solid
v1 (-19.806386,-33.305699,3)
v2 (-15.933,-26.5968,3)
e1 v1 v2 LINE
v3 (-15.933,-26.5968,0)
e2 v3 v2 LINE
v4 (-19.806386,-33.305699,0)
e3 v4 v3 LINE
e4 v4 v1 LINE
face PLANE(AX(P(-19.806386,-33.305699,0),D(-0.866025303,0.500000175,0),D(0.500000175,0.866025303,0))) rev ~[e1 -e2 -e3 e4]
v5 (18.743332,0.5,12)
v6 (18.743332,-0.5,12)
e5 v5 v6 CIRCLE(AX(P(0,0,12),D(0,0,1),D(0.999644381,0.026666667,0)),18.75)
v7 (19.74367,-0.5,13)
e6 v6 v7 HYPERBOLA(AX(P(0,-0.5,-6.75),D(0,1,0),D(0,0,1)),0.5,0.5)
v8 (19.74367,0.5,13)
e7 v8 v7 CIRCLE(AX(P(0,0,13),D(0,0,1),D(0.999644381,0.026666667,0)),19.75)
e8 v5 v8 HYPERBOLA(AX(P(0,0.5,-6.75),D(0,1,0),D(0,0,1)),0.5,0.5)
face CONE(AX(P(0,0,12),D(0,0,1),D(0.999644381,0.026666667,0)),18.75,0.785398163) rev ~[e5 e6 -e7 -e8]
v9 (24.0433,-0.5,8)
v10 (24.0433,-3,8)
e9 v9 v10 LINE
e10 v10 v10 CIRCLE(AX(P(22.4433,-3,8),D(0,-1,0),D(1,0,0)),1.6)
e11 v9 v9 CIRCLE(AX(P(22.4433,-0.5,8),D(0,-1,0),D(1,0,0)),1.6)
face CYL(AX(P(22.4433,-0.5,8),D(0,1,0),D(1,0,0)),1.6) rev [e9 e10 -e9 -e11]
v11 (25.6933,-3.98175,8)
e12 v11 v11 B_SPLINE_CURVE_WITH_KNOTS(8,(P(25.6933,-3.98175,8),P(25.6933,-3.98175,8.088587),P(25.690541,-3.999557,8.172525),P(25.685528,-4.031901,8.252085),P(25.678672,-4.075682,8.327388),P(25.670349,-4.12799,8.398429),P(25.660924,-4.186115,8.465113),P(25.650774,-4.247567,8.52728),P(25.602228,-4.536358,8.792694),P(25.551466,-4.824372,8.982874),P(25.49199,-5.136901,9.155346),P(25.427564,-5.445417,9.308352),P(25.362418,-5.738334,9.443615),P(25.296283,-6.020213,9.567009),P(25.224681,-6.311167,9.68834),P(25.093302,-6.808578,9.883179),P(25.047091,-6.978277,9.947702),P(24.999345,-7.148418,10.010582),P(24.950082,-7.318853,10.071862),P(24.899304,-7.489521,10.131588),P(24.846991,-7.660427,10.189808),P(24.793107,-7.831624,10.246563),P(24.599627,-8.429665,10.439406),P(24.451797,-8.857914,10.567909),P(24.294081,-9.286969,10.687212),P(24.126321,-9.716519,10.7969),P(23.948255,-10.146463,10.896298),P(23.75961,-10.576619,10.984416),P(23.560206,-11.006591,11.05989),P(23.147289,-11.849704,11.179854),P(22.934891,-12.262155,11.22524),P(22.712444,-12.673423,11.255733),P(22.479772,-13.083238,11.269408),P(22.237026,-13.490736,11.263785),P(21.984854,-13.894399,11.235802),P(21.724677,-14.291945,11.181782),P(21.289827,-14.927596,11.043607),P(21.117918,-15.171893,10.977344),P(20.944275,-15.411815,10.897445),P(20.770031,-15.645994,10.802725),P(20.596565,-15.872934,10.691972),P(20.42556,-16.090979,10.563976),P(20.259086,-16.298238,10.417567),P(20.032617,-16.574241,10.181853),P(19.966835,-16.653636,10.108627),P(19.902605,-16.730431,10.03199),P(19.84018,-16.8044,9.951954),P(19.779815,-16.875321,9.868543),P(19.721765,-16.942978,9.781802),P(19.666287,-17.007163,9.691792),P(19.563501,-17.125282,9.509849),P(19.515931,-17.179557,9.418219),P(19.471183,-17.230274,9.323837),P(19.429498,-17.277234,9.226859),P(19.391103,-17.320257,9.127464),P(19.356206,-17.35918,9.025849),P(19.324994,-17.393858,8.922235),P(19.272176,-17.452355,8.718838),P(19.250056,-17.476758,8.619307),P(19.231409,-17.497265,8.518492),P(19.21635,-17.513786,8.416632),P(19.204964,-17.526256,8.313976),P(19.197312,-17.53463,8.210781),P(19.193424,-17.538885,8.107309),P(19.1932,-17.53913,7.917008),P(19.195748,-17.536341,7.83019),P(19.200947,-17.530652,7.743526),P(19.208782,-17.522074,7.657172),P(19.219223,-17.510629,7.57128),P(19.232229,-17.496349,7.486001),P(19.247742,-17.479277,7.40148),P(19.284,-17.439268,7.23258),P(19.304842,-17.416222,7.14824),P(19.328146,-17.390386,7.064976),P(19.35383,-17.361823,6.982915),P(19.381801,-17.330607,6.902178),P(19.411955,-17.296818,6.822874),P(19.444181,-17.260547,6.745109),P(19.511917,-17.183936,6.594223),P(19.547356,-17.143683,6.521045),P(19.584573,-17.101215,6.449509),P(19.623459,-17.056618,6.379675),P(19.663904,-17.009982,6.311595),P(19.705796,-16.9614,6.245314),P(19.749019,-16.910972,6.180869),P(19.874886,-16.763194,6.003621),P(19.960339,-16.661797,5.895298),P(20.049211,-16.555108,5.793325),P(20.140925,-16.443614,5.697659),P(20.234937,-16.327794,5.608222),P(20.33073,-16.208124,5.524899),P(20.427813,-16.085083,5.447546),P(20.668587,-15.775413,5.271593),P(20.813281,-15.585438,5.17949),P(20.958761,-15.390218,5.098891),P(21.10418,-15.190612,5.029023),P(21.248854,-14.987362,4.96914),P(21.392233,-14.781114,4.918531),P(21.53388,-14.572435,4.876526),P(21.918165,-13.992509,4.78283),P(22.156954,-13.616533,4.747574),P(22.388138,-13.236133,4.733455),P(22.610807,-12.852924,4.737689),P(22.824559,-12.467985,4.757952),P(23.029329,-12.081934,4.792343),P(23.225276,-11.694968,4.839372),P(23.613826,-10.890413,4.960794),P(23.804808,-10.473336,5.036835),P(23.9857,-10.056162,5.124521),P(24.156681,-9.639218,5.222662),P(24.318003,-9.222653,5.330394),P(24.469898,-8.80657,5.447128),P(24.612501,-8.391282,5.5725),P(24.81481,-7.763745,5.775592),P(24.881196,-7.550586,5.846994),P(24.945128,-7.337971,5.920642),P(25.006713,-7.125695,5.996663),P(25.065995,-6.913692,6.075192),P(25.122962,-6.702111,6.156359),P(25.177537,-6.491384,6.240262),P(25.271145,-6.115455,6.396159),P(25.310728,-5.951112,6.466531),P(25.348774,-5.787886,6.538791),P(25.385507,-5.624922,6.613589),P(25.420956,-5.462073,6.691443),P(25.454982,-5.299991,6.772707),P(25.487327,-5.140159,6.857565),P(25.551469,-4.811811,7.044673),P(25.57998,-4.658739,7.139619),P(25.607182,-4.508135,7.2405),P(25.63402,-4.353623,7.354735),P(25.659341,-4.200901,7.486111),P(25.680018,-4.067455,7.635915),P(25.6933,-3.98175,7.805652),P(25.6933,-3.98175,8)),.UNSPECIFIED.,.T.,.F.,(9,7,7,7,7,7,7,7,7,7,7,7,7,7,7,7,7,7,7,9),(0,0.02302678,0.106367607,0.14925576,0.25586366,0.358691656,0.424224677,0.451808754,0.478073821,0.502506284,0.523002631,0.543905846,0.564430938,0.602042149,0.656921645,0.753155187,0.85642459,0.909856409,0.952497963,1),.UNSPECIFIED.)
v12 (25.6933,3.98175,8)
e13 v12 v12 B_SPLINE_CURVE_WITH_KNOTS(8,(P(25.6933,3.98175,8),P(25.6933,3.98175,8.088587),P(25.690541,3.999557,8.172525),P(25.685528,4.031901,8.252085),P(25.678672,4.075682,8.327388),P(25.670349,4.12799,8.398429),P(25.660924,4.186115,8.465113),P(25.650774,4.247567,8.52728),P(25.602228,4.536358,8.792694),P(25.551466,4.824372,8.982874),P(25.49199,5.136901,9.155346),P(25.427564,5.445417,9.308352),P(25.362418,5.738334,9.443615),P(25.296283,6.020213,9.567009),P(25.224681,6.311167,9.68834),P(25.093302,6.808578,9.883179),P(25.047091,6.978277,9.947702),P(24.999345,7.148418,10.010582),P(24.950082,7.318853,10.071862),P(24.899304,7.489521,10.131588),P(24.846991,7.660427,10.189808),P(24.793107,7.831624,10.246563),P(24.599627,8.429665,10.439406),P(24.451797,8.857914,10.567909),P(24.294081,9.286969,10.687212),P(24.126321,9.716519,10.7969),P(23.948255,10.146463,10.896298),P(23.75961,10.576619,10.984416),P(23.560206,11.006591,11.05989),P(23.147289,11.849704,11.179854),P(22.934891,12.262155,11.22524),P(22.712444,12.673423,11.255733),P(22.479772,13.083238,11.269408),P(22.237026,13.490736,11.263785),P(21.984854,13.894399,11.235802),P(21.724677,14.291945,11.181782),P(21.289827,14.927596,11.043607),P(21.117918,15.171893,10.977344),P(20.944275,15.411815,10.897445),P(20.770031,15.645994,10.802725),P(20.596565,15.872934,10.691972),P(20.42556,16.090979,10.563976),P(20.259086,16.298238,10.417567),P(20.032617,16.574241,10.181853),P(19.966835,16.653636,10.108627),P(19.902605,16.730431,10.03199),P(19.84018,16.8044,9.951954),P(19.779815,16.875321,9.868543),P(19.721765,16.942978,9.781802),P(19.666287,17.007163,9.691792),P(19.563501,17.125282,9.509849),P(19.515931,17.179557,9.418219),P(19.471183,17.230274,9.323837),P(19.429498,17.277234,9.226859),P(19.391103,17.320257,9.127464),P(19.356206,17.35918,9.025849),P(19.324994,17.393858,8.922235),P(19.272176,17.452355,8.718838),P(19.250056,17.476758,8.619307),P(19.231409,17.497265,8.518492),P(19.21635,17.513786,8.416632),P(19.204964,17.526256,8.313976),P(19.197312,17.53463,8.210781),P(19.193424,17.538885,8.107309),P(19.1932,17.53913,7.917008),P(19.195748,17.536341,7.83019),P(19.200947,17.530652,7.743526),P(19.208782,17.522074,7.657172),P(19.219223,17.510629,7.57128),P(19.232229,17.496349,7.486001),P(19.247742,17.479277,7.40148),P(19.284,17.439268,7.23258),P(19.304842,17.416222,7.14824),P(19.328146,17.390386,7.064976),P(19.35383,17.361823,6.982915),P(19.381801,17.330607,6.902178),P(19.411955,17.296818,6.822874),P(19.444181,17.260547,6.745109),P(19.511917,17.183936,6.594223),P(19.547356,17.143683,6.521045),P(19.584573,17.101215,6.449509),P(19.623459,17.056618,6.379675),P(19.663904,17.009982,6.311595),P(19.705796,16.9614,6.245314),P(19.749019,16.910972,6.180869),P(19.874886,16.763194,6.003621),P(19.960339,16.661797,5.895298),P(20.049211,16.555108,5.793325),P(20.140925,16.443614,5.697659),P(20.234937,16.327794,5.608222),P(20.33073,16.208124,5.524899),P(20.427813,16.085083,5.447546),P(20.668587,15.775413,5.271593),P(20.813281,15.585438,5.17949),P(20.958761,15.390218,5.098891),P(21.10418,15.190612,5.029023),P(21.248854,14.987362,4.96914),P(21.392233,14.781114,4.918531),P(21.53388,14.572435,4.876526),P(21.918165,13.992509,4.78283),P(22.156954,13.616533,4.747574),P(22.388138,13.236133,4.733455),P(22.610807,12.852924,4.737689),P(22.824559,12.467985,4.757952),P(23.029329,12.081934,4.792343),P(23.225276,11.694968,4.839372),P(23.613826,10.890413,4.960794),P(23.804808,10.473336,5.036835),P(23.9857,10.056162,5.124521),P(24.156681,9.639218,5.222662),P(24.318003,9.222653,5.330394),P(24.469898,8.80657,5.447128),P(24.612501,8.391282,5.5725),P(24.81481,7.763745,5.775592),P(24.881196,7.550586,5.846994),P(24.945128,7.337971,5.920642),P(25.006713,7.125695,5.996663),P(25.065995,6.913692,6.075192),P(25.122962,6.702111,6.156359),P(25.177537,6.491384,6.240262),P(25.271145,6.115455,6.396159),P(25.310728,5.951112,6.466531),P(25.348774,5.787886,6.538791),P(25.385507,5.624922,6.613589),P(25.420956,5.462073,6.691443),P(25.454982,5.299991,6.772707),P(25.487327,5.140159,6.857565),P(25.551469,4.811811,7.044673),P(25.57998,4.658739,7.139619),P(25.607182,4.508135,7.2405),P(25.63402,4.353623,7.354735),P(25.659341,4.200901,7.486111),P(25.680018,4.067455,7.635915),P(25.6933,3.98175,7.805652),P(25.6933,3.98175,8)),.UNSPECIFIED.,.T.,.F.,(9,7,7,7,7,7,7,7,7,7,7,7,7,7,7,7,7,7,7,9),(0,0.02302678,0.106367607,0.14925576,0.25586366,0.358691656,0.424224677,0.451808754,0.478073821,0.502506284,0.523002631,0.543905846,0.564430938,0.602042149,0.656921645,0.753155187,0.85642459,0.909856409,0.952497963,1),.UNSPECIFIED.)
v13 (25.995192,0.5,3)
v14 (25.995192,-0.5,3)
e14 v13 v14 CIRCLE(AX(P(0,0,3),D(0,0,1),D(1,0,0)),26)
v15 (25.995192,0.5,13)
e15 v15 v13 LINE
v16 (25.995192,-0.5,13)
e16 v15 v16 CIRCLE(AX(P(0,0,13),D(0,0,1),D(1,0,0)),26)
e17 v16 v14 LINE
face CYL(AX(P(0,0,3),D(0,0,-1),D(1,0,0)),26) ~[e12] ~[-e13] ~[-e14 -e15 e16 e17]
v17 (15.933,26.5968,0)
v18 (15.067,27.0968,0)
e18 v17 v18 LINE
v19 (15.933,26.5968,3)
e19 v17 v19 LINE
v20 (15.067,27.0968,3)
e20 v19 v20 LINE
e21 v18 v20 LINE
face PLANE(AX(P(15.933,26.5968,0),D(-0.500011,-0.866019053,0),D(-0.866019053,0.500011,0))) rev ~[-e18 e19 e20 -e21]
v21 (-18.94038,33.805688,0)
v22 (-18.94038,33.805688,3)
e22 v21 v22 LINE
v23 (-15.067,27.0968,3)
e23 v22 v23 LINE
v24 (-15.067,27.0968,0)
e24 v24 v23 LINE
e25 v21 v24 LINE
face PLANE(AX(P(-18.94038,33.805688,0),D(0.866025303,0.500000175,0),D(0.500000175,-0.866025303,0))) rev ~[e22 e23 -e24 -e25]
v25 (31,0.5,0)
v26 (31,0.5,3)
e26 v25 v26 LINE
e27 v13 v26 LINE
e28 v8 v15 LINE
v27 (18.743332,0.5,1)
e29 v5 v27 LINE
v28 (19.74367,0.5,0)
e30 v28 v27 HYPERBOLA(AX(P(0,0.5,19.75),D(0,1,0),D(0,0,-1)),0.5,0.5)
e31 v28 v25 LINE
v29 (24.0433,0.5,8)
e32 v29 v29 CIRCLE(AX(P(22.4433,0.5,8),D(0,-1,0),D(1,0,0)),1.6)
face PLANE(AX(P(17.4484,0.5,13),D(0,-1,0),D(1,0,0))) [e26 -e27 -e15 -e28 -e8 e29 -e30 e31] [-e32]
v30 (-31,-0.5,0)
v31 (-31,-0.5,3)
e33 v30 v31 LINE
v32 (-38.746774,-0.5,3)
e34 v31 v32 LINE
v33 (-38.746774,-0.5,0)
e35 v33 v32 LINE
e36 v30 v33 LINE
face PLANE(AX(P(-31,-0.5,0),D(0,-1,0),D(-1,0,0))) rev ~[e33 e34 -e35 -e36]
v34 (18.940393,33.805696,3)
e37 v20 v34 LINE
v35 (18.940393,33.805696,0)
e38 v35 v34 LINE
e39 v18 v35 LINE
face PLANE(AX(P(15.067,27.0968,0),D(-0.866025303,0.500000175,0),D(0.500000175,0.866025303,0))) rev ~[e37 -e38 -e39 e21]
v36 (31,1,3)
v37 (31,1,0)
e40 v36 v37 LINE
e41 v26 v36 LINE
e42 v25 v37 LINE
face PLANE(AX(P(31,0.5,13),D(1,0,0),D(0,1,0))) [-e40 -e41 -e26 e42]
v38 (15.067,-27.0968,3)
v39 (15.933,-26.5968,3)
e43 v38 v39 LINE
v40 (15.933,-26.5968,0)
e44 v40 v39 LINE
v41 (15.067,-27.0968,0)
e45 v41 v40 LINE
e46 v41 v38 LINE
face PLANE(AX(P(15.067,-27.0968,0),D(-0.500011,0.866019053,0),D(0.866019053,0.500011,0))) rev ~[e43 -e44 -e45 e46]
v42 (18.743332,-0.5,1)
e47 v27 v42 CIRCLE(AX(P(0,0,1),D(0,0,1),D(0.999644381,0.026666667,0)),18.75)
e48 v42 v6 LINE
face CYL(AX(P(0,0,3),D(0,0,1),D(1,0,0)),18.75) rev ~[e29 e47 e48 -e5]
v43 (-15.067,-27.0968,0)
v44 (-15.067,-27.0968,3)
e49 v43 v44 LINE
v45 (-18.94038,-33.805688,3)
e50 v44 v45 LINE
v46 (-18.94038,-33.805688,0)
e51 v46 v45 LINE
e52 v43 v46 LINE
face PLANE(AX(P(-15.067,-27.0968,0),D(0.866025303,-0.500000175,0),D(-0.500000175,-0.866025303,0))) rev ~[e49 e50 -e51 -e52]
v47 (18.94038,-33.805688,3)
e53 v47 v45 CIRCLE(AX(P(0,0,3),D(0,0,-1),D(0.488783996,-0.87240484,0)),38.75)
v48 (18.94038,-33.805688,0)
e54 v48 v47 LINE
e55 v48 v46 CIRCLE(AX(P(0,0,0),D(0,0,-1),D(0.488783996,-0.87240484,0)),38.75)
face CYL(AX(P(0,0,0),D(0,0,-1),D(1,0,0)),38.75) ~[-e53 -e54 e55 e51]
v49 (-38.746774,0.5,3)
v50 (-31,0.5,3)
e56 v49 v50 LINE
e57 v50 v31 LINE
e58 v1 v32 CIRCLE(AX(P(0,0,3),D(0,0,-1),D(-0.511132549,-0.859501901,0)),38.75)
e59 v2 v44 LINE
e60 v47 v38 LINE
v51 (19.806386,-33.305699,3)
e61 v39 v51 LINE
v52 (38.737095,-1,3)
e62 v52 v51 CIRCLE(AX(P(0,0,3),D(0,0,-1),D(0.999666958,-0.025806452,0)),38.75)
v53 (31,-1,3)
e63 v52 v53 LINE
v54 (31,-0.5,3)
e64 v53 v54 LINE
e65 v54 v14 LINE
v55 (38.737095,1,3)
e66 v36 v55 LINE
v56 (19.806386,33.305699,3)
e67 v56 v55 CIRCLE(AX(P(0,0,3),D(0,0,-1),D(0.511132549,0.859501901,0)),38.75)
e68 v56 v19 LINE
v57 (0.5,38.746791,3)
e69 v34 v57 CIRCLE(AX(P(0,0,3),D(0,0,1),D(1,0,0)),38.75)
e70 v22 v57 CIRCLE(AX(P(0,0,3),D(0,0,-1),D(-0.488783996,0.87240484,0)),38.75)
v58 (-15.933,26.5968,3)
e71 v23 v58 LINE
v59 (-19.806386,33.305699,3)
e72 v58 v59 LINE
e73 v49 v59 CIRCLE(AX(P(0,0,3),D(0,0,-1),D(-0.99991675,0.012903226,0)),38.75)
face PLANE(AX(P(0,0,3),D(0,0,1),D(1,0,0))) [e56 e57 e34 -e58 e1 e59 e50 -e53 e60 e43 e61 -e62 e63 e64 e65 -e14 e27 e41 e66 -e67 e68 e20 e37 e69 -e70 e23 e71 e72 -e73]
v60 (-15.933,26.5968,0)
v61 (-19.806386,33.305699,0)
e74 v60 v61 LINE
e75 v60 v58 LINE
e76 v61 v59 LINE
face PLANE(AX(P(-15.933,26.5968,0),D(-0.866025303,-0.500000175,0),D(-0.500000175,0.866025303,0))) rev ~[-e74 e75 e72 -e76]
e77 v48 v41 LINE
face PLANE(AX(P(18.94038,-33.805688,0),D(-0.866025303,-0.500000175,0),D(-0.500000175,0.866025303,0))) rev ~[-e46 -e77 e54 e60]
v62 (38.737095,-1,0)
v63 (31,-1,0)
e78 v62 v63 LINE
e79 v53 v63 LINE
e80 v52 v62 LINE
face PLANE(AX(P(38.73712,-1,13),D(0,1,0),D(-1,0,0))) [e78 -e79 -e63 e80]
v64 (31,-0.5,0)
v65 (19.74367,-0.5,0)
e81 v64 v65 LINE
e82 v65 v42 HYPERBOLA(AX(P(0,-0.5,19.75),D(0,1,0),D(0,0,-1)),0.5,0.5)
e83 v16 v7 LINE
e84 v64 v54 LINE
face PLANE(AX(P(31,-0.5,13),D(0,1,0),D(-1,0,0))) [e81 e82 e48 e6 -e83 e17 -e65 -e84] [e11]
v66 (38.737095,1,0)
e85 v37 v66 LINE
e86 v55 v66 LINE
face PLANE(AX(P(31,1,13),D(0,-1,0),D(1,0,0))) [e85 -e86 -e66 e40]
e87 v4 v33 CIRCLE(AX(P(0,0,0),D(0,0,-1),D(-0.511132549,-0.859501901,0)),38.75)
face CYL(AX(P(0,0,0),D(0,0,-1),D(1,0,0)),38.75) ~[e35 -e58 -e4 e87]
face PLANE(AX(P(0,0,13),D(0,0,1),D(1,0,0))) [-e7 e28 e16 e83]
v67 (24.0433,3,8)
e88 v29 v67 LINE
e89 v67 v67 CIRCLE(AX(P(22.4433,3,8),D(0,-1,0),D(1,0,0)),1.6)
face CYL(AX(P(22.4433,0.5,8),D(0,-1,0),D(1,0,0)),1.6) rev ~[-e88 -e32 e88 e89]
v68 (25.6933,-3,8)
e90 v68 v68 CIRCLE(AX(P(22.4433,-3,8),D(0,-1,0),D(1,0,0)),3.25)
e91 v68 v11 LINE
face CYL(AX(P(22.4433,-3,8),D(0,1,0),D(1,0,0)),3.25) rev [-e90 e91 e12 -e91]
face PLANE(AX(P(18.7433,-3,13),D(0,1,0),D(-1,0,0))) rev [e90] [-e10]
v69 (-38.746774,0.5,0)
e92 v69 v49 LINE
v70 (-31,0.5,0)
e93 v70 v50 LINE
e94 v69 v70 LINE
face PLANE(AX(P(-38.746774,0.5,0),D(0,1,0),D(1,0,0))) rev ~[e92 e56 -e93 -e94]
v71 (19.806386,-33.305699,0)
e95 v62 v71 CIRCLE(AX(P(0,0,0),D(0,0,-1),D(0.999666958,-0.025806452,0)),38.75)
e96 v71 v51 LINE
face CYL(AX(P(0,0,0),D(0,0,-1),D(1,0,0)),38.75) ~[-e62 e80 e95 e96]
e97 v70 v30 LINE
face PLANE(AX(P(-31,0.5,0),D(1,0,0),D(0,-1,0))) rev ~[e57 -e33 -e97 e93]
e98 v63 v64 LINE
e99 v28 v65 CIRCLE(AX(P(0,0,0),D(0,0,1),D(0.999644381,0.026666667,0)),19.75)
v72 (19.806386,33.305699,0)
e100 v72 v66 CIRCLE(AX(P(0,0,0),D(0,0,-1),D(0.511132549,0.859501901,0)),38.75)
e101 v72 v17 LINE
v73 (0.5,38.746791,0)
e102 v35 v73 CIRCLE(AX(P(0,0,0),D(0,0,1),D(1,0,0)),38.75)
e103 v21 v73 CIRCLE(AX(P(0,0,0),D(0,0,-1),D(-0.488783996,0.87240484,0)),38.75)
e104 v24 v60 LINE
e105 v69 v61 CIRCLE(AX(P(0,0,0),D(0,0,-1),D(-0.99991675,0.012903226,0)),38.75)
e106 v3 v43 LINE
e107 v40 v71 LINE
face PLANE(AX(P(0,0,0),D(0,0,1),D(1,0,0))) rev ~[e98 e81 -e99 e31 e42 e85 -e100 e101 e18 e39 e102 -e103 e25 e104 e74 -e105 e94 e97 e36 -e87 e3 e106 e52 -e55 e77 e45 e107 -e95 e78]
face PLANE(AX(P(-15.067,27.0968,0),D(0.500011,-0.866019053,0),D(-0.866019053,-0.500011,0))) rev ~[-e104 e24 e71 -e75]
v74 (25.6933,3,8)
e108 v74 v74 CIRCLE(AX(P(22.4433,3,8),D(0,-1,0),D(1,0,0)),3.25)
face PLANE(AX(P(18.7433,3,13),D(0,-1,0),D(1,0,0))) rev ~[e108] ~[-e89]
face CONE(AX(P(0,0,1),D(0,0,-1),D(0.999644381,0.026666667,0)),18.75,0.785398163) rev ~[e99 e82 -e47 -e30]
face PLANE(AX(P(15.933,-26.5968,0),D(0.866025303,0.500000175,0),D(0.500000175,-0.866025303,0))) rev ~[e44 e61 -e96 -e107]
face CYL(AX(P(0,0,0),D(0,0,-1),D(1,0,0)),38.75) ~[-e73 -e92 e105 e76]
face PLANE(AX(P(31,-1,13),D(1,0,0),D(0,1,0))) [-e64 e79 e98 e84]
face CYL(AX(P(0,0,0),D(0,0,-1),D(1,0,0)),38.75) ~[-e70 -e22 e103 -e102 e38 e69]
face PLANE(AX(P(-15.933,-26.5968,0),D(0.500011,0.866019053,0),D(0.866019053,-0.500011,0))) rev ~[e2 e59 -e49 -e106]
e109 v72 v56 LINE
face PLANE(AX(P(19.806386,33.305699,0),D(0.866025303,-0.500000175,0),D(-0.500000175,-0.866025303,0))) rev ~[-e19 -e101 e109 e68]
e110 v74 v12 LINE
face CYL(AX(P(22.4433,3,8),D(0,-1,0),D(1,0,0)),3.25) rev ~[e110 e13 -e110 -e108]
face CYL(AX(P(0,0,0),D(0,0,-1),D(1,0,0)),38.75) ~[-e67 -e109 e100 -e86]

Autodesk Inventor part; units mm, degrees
ref_plane "YZ Plane" through (0, 0, 0) normal (1, 0, 0) x (0, 1, 0)
ref_plane "XZ Plane" through (0, 0, 0) normal (0, 1, 0) x (-1, 0, 0)
sketch "Sketch1" plane through (0, 0, 0) normal (0, 0, 1) x (1, 0, 0)
  circle A0 centre (0, 0) radius 38.75
  line L0 (-0.5, 39) -> (0.5, 39)
  line L1 (0.5, 39) -> (0.5, 31)
  line L2 (0.5, 31) -> (-0.5, 31)
  line L3 (-0.5, 31) -> (-0.5, 39)
  line L4 (-15.933, 26.5968) -> (-19.933, 33.525)
  line L5 (-19.067, 34.025) -> (-15.067, 27.0968)
  line L6 (-15.067, 27.0968) -> (-15.933, 26.5968)
  line L7 (-19.933, 33.525) -> (-19.067, 34.025)
  line L8 (-27.0968, 15.067) -> (-34.025, 19.067)
  line L9 (-33.525, 19.933) -> (-26.5968, 15.933)
  line L10 (-26.5968, 15.933) -> (-27.0968, 15.067)
  line L11 (-34.025, 19.067) -> (-33.525, 19.933)
  line L12 (-31, -0.5) -> (-39, -0.5)
  line L13 (-39, 0.5) -> (-31, 0.5)
  line L14 (-31, 0.5) -> (-31, -0.5)
  line L15 (-39, -0.5) -> (-39, 0.5)
  line L16 (-26.5968, -15.933) -> (-33.525, -19.933)
  line L17 (-34.025, -19.067) -> (-27.0968, -15.067)
  line L18 (-27.0968, -15.067) -> (-26.5968, -15.933)
  line L19 (-33.525, -19.933) -> (-34.025, -19.067)
  line L20 (-15.067, -27.0968) -> (-19.067, -34.025)
  line L21 (-19.933, -33.525) -> (-15.933, -26.5968)
  line L22 (-15.933, -26.5968) -> (-15.067, -27.0968)
  line L23 (-19.067, -34.025) -> (-19.933, -33.525)
  line L24 (0.5, -31) -> (0.5, -39)
  line L25 (-0.5, -39) -> (-0.5, -31)
  line L26 (-0.5, -31) -> (0.5, -31)
  line L27 (0.5, -39) -> (-0.5, -39)
  line L28 (15.933, -26.5968) -> (19.933, -33.525)
  line L29 (19.067, -34.025) -> (15.067, -27.0968)
  line L30 (15.067, -27.0968) -> (15.933, -26.5968)
  line L31 (19.933, -33.525) -> (19.067, -34.025)
  line L32 (27.0968, -15.067) -> (34.025, -19.067)
  line L33 (33.525, -19.933) -> (26.5968, -15.933)
  line L34 (26.5968, -15.933) -> (27.0968, -15.067)
  line L35 (34.025, -19.067) -> (33.525, -19.933)
  line L36 (31, 0.5) -> (39, 0.5)
  line L37 (39, -0.5) -> (31, -0.5)
  line L38 (31, -0.5) -> (31, 0.5)
  line L39 (39, 0.5) -> (39, -0.5)
  line L40 (26.5968, 15.933) -> (33.525, 19.933)
  line L41 (34.025, 19.067) -> (27.0968, 15.067)
  line L42 (27.0968, 15.067) -> (26.5968, 15.933)
  line L43 (33.525, 19.933) -> (34.025, 19.067)
  line L44 (15.067, 27.0968) -> (19.067, 34.025)
  line L45 (19.933, 33.525) -> (15.933, 26.5968)
  line L46 (15.933, 26.5968) -> (15.067, 27.0968)
  line L47 (19.067, 34.025) -> (19.933, 33.525)
  point P0 (0, 31)
  point P1 (-0.5, 38.7468)
  point P2 (0.5, 38.7468)
  point P3 (-15.5, 26.8468)
  point P4 (-26.8468, 15.5)
  point P5 (-31, 0)
  point P6 (-26.8468, -15.5)
  point P7 (-15.5, -26.8468)
  point P8 (0, -31)
  point P9 (15.5, -26.8468)
  point P10 (26.8468, -15.5)
  point P11 (31, 0)
  point P12 (26.8468, 15.5)
  point P13 (15.5, 26.8468)
  point P14 (-18.9404, 33.8057)
  point P15 (-19.8064, 33.3057)
  point P16 (-33.3057, 19.8064)
  point P17 (-33.8057, 18.9404)
  point P18 (-38.7468, 0.5)
  point P19 (-38.7468, -0.5)
  point P20 (-33.8057, -18.9404)
  point P21 (-33.3057, -19.8064)
  point P22 (-19.8064, -33.3057)
  point P23 (-18.9404, -33.8057)
  point P24 (-0.5, -38.7468)
  point P25 (0.5, -38.7468)
  point P26 (18.9404, -33.8057)
  point P27 (19.8064, -33.3057)
  point P28 (33.3057, -19.8064)
  point P29 (33.8057, -18.9404)
  point P30 (38.7468, -0.5)
  point P31 (38.7468, 0.5)
  point P32 (33.8057, 18.9404)
  point P33 (33.3057, 19.8064)
  point P34 (19.8064, 33.3057)
  point P35 (18.9404, 33.8057)
  dimension "d0" = 77.5
  dimension "d3" = 0.5
  dimension "d4" = 31
  dimension "d9" = 360
extrude "Extrusion1" add sketch "Sketch1" along normal blind 3 contours L36 L38 L37 A0 L32 L34 L33 L28 L30 L29 L24 L26 L25 L20 L22 L21 L16 L18 L17 L12 L14 L13 L8 L10 L9 L4 L6 L5 L3 L2 L1 L44 L46 L45 L40 L42 L41 | L41 L42 L40 A0 | A0 L40 L43 L41 | L32 L35 L33 A0 | A0 L33 L34 L32 | L1 L2 L3 A0 | A0 L3 L0 L1 | L24 L27 L25 A0 | A0 L25 L26 L24 | L9 L10 L8 A0 | A0 L8 L11 L9 | L16 L19 L17 A0 | A0 L17 L18 L16
sketch "Sketch2" plane through (0, 0, 3) normal (0, 0, 1) x (1, 0, 0)
  circle A0 centre (0, 0) radius 18.75
  circle A1 centre (0, 0) radius 26
  dimension "d11" = 37.5
  dimension "d12" = 52
extrude "Extrusion2" add sketch "Sketch2" along normal blind 10
sketch "Sketch3" plane through (0, 0, 3) normal (0, 0, 1) x (1, 0, 0)
  circle A0 centre (0, 0) radius 18.75
extrude "Extrusion3" cut sketch "Sketch3" against normal blind 10
sketch "Sketch4" plane through (0, 0, 13) normal (0, 0, 1) x (1, 0, 0)
  arc A0 (33.8057, -18.9404) -> (38.7468, -0.5) centre (0, 0) ccw projected
  line L0 (38.7468, -0.5) -> (17.4484, -0.5)
  line L1 (17.4484, -0.5) -> (17.4484, 0.5)
  line L2 (17.4484, 0.5) -> (38.7468, 0.5)
  line L3 (38.7468, 0.5) -> (38.7468, -0.5)
  line L4 (31, 1) -> (40.0251, 1)
  line L5 (40.0251, 1) -> (40.0251, -1)
  line L6 (40.0251, -1) -> (31, -1)
  line L7 (31, -1) -> (31, 1)
  point P0 (31, -0.5)
  point P1 (31, 0.5)
  dimension "d19" = 2
  dimension "d20" = 0.5
extrude "Extrusion4" cut sketch "Sketch4" against normal through all
sketch "Sketch5" plane through (18.7433, 0.5, 13) normal (0, -1, 0) x (1, 0, 0)
  circle A0 centre (3.7, -5) radius 1.6
  line L0 (14.5624, -10) -> (1.0631, -10) projected
  line L1 (-37.4933, 0) -> (0, 0) projected
  line L2 (0, 0) -> (0, -10)
  point P0 (-18.7433, -13)
  point P1 (0, -5)
  dimension "d21" = 3.2
  dimension "d22" = 5
  dimension "d23" = 3.7
extrude "Extrusion5" cut sketch "Sketch5" against normal blind 23.5
ref_plane "Work Plane1" through (18.7433, 3, 13) normal (0, -1, 0) x (1, 0, 0)
sketch "Sketch6" plane through (18.7433, 3, 13) normal (0, -1, 0) x (1, 0, 0)
  circle A0 centre (3.7, -5) radius 1.6 projected
  circle A1 centre (3.7, -5) radius 3.25
  point P0 (-18.7433, -13)
  dimension "d27" = 6.5
extrude "Extrusion6" cut sketch "Sketch6" against normal blind 23.5
mirror "Mirror1" about plane through (0, 0, 0) normal (0, 1, 0) of "Extrusion6", "Extrusion5"
chamfer "Chamfer1" distance 1 angle 45 2 edges at (-18.75, 0, 13) (-18.75, 0, 0)
sketch "Sketch7" plane through (0, 0, 3) normal (0, 0, 1) x (1, 0, 0)
  circle A0 centre (0, 0) radius 38.75
  arc A1 (18.9404, 33.8057) -> (0.5, 38.7468) centre (0, 0) ccw projected
  circle A2 centre (0, 0) radius 41.405
extrude "Extrusion7" cut sketch "Sketch7" against normal blind 3
properties part number "disk_6_slot"
